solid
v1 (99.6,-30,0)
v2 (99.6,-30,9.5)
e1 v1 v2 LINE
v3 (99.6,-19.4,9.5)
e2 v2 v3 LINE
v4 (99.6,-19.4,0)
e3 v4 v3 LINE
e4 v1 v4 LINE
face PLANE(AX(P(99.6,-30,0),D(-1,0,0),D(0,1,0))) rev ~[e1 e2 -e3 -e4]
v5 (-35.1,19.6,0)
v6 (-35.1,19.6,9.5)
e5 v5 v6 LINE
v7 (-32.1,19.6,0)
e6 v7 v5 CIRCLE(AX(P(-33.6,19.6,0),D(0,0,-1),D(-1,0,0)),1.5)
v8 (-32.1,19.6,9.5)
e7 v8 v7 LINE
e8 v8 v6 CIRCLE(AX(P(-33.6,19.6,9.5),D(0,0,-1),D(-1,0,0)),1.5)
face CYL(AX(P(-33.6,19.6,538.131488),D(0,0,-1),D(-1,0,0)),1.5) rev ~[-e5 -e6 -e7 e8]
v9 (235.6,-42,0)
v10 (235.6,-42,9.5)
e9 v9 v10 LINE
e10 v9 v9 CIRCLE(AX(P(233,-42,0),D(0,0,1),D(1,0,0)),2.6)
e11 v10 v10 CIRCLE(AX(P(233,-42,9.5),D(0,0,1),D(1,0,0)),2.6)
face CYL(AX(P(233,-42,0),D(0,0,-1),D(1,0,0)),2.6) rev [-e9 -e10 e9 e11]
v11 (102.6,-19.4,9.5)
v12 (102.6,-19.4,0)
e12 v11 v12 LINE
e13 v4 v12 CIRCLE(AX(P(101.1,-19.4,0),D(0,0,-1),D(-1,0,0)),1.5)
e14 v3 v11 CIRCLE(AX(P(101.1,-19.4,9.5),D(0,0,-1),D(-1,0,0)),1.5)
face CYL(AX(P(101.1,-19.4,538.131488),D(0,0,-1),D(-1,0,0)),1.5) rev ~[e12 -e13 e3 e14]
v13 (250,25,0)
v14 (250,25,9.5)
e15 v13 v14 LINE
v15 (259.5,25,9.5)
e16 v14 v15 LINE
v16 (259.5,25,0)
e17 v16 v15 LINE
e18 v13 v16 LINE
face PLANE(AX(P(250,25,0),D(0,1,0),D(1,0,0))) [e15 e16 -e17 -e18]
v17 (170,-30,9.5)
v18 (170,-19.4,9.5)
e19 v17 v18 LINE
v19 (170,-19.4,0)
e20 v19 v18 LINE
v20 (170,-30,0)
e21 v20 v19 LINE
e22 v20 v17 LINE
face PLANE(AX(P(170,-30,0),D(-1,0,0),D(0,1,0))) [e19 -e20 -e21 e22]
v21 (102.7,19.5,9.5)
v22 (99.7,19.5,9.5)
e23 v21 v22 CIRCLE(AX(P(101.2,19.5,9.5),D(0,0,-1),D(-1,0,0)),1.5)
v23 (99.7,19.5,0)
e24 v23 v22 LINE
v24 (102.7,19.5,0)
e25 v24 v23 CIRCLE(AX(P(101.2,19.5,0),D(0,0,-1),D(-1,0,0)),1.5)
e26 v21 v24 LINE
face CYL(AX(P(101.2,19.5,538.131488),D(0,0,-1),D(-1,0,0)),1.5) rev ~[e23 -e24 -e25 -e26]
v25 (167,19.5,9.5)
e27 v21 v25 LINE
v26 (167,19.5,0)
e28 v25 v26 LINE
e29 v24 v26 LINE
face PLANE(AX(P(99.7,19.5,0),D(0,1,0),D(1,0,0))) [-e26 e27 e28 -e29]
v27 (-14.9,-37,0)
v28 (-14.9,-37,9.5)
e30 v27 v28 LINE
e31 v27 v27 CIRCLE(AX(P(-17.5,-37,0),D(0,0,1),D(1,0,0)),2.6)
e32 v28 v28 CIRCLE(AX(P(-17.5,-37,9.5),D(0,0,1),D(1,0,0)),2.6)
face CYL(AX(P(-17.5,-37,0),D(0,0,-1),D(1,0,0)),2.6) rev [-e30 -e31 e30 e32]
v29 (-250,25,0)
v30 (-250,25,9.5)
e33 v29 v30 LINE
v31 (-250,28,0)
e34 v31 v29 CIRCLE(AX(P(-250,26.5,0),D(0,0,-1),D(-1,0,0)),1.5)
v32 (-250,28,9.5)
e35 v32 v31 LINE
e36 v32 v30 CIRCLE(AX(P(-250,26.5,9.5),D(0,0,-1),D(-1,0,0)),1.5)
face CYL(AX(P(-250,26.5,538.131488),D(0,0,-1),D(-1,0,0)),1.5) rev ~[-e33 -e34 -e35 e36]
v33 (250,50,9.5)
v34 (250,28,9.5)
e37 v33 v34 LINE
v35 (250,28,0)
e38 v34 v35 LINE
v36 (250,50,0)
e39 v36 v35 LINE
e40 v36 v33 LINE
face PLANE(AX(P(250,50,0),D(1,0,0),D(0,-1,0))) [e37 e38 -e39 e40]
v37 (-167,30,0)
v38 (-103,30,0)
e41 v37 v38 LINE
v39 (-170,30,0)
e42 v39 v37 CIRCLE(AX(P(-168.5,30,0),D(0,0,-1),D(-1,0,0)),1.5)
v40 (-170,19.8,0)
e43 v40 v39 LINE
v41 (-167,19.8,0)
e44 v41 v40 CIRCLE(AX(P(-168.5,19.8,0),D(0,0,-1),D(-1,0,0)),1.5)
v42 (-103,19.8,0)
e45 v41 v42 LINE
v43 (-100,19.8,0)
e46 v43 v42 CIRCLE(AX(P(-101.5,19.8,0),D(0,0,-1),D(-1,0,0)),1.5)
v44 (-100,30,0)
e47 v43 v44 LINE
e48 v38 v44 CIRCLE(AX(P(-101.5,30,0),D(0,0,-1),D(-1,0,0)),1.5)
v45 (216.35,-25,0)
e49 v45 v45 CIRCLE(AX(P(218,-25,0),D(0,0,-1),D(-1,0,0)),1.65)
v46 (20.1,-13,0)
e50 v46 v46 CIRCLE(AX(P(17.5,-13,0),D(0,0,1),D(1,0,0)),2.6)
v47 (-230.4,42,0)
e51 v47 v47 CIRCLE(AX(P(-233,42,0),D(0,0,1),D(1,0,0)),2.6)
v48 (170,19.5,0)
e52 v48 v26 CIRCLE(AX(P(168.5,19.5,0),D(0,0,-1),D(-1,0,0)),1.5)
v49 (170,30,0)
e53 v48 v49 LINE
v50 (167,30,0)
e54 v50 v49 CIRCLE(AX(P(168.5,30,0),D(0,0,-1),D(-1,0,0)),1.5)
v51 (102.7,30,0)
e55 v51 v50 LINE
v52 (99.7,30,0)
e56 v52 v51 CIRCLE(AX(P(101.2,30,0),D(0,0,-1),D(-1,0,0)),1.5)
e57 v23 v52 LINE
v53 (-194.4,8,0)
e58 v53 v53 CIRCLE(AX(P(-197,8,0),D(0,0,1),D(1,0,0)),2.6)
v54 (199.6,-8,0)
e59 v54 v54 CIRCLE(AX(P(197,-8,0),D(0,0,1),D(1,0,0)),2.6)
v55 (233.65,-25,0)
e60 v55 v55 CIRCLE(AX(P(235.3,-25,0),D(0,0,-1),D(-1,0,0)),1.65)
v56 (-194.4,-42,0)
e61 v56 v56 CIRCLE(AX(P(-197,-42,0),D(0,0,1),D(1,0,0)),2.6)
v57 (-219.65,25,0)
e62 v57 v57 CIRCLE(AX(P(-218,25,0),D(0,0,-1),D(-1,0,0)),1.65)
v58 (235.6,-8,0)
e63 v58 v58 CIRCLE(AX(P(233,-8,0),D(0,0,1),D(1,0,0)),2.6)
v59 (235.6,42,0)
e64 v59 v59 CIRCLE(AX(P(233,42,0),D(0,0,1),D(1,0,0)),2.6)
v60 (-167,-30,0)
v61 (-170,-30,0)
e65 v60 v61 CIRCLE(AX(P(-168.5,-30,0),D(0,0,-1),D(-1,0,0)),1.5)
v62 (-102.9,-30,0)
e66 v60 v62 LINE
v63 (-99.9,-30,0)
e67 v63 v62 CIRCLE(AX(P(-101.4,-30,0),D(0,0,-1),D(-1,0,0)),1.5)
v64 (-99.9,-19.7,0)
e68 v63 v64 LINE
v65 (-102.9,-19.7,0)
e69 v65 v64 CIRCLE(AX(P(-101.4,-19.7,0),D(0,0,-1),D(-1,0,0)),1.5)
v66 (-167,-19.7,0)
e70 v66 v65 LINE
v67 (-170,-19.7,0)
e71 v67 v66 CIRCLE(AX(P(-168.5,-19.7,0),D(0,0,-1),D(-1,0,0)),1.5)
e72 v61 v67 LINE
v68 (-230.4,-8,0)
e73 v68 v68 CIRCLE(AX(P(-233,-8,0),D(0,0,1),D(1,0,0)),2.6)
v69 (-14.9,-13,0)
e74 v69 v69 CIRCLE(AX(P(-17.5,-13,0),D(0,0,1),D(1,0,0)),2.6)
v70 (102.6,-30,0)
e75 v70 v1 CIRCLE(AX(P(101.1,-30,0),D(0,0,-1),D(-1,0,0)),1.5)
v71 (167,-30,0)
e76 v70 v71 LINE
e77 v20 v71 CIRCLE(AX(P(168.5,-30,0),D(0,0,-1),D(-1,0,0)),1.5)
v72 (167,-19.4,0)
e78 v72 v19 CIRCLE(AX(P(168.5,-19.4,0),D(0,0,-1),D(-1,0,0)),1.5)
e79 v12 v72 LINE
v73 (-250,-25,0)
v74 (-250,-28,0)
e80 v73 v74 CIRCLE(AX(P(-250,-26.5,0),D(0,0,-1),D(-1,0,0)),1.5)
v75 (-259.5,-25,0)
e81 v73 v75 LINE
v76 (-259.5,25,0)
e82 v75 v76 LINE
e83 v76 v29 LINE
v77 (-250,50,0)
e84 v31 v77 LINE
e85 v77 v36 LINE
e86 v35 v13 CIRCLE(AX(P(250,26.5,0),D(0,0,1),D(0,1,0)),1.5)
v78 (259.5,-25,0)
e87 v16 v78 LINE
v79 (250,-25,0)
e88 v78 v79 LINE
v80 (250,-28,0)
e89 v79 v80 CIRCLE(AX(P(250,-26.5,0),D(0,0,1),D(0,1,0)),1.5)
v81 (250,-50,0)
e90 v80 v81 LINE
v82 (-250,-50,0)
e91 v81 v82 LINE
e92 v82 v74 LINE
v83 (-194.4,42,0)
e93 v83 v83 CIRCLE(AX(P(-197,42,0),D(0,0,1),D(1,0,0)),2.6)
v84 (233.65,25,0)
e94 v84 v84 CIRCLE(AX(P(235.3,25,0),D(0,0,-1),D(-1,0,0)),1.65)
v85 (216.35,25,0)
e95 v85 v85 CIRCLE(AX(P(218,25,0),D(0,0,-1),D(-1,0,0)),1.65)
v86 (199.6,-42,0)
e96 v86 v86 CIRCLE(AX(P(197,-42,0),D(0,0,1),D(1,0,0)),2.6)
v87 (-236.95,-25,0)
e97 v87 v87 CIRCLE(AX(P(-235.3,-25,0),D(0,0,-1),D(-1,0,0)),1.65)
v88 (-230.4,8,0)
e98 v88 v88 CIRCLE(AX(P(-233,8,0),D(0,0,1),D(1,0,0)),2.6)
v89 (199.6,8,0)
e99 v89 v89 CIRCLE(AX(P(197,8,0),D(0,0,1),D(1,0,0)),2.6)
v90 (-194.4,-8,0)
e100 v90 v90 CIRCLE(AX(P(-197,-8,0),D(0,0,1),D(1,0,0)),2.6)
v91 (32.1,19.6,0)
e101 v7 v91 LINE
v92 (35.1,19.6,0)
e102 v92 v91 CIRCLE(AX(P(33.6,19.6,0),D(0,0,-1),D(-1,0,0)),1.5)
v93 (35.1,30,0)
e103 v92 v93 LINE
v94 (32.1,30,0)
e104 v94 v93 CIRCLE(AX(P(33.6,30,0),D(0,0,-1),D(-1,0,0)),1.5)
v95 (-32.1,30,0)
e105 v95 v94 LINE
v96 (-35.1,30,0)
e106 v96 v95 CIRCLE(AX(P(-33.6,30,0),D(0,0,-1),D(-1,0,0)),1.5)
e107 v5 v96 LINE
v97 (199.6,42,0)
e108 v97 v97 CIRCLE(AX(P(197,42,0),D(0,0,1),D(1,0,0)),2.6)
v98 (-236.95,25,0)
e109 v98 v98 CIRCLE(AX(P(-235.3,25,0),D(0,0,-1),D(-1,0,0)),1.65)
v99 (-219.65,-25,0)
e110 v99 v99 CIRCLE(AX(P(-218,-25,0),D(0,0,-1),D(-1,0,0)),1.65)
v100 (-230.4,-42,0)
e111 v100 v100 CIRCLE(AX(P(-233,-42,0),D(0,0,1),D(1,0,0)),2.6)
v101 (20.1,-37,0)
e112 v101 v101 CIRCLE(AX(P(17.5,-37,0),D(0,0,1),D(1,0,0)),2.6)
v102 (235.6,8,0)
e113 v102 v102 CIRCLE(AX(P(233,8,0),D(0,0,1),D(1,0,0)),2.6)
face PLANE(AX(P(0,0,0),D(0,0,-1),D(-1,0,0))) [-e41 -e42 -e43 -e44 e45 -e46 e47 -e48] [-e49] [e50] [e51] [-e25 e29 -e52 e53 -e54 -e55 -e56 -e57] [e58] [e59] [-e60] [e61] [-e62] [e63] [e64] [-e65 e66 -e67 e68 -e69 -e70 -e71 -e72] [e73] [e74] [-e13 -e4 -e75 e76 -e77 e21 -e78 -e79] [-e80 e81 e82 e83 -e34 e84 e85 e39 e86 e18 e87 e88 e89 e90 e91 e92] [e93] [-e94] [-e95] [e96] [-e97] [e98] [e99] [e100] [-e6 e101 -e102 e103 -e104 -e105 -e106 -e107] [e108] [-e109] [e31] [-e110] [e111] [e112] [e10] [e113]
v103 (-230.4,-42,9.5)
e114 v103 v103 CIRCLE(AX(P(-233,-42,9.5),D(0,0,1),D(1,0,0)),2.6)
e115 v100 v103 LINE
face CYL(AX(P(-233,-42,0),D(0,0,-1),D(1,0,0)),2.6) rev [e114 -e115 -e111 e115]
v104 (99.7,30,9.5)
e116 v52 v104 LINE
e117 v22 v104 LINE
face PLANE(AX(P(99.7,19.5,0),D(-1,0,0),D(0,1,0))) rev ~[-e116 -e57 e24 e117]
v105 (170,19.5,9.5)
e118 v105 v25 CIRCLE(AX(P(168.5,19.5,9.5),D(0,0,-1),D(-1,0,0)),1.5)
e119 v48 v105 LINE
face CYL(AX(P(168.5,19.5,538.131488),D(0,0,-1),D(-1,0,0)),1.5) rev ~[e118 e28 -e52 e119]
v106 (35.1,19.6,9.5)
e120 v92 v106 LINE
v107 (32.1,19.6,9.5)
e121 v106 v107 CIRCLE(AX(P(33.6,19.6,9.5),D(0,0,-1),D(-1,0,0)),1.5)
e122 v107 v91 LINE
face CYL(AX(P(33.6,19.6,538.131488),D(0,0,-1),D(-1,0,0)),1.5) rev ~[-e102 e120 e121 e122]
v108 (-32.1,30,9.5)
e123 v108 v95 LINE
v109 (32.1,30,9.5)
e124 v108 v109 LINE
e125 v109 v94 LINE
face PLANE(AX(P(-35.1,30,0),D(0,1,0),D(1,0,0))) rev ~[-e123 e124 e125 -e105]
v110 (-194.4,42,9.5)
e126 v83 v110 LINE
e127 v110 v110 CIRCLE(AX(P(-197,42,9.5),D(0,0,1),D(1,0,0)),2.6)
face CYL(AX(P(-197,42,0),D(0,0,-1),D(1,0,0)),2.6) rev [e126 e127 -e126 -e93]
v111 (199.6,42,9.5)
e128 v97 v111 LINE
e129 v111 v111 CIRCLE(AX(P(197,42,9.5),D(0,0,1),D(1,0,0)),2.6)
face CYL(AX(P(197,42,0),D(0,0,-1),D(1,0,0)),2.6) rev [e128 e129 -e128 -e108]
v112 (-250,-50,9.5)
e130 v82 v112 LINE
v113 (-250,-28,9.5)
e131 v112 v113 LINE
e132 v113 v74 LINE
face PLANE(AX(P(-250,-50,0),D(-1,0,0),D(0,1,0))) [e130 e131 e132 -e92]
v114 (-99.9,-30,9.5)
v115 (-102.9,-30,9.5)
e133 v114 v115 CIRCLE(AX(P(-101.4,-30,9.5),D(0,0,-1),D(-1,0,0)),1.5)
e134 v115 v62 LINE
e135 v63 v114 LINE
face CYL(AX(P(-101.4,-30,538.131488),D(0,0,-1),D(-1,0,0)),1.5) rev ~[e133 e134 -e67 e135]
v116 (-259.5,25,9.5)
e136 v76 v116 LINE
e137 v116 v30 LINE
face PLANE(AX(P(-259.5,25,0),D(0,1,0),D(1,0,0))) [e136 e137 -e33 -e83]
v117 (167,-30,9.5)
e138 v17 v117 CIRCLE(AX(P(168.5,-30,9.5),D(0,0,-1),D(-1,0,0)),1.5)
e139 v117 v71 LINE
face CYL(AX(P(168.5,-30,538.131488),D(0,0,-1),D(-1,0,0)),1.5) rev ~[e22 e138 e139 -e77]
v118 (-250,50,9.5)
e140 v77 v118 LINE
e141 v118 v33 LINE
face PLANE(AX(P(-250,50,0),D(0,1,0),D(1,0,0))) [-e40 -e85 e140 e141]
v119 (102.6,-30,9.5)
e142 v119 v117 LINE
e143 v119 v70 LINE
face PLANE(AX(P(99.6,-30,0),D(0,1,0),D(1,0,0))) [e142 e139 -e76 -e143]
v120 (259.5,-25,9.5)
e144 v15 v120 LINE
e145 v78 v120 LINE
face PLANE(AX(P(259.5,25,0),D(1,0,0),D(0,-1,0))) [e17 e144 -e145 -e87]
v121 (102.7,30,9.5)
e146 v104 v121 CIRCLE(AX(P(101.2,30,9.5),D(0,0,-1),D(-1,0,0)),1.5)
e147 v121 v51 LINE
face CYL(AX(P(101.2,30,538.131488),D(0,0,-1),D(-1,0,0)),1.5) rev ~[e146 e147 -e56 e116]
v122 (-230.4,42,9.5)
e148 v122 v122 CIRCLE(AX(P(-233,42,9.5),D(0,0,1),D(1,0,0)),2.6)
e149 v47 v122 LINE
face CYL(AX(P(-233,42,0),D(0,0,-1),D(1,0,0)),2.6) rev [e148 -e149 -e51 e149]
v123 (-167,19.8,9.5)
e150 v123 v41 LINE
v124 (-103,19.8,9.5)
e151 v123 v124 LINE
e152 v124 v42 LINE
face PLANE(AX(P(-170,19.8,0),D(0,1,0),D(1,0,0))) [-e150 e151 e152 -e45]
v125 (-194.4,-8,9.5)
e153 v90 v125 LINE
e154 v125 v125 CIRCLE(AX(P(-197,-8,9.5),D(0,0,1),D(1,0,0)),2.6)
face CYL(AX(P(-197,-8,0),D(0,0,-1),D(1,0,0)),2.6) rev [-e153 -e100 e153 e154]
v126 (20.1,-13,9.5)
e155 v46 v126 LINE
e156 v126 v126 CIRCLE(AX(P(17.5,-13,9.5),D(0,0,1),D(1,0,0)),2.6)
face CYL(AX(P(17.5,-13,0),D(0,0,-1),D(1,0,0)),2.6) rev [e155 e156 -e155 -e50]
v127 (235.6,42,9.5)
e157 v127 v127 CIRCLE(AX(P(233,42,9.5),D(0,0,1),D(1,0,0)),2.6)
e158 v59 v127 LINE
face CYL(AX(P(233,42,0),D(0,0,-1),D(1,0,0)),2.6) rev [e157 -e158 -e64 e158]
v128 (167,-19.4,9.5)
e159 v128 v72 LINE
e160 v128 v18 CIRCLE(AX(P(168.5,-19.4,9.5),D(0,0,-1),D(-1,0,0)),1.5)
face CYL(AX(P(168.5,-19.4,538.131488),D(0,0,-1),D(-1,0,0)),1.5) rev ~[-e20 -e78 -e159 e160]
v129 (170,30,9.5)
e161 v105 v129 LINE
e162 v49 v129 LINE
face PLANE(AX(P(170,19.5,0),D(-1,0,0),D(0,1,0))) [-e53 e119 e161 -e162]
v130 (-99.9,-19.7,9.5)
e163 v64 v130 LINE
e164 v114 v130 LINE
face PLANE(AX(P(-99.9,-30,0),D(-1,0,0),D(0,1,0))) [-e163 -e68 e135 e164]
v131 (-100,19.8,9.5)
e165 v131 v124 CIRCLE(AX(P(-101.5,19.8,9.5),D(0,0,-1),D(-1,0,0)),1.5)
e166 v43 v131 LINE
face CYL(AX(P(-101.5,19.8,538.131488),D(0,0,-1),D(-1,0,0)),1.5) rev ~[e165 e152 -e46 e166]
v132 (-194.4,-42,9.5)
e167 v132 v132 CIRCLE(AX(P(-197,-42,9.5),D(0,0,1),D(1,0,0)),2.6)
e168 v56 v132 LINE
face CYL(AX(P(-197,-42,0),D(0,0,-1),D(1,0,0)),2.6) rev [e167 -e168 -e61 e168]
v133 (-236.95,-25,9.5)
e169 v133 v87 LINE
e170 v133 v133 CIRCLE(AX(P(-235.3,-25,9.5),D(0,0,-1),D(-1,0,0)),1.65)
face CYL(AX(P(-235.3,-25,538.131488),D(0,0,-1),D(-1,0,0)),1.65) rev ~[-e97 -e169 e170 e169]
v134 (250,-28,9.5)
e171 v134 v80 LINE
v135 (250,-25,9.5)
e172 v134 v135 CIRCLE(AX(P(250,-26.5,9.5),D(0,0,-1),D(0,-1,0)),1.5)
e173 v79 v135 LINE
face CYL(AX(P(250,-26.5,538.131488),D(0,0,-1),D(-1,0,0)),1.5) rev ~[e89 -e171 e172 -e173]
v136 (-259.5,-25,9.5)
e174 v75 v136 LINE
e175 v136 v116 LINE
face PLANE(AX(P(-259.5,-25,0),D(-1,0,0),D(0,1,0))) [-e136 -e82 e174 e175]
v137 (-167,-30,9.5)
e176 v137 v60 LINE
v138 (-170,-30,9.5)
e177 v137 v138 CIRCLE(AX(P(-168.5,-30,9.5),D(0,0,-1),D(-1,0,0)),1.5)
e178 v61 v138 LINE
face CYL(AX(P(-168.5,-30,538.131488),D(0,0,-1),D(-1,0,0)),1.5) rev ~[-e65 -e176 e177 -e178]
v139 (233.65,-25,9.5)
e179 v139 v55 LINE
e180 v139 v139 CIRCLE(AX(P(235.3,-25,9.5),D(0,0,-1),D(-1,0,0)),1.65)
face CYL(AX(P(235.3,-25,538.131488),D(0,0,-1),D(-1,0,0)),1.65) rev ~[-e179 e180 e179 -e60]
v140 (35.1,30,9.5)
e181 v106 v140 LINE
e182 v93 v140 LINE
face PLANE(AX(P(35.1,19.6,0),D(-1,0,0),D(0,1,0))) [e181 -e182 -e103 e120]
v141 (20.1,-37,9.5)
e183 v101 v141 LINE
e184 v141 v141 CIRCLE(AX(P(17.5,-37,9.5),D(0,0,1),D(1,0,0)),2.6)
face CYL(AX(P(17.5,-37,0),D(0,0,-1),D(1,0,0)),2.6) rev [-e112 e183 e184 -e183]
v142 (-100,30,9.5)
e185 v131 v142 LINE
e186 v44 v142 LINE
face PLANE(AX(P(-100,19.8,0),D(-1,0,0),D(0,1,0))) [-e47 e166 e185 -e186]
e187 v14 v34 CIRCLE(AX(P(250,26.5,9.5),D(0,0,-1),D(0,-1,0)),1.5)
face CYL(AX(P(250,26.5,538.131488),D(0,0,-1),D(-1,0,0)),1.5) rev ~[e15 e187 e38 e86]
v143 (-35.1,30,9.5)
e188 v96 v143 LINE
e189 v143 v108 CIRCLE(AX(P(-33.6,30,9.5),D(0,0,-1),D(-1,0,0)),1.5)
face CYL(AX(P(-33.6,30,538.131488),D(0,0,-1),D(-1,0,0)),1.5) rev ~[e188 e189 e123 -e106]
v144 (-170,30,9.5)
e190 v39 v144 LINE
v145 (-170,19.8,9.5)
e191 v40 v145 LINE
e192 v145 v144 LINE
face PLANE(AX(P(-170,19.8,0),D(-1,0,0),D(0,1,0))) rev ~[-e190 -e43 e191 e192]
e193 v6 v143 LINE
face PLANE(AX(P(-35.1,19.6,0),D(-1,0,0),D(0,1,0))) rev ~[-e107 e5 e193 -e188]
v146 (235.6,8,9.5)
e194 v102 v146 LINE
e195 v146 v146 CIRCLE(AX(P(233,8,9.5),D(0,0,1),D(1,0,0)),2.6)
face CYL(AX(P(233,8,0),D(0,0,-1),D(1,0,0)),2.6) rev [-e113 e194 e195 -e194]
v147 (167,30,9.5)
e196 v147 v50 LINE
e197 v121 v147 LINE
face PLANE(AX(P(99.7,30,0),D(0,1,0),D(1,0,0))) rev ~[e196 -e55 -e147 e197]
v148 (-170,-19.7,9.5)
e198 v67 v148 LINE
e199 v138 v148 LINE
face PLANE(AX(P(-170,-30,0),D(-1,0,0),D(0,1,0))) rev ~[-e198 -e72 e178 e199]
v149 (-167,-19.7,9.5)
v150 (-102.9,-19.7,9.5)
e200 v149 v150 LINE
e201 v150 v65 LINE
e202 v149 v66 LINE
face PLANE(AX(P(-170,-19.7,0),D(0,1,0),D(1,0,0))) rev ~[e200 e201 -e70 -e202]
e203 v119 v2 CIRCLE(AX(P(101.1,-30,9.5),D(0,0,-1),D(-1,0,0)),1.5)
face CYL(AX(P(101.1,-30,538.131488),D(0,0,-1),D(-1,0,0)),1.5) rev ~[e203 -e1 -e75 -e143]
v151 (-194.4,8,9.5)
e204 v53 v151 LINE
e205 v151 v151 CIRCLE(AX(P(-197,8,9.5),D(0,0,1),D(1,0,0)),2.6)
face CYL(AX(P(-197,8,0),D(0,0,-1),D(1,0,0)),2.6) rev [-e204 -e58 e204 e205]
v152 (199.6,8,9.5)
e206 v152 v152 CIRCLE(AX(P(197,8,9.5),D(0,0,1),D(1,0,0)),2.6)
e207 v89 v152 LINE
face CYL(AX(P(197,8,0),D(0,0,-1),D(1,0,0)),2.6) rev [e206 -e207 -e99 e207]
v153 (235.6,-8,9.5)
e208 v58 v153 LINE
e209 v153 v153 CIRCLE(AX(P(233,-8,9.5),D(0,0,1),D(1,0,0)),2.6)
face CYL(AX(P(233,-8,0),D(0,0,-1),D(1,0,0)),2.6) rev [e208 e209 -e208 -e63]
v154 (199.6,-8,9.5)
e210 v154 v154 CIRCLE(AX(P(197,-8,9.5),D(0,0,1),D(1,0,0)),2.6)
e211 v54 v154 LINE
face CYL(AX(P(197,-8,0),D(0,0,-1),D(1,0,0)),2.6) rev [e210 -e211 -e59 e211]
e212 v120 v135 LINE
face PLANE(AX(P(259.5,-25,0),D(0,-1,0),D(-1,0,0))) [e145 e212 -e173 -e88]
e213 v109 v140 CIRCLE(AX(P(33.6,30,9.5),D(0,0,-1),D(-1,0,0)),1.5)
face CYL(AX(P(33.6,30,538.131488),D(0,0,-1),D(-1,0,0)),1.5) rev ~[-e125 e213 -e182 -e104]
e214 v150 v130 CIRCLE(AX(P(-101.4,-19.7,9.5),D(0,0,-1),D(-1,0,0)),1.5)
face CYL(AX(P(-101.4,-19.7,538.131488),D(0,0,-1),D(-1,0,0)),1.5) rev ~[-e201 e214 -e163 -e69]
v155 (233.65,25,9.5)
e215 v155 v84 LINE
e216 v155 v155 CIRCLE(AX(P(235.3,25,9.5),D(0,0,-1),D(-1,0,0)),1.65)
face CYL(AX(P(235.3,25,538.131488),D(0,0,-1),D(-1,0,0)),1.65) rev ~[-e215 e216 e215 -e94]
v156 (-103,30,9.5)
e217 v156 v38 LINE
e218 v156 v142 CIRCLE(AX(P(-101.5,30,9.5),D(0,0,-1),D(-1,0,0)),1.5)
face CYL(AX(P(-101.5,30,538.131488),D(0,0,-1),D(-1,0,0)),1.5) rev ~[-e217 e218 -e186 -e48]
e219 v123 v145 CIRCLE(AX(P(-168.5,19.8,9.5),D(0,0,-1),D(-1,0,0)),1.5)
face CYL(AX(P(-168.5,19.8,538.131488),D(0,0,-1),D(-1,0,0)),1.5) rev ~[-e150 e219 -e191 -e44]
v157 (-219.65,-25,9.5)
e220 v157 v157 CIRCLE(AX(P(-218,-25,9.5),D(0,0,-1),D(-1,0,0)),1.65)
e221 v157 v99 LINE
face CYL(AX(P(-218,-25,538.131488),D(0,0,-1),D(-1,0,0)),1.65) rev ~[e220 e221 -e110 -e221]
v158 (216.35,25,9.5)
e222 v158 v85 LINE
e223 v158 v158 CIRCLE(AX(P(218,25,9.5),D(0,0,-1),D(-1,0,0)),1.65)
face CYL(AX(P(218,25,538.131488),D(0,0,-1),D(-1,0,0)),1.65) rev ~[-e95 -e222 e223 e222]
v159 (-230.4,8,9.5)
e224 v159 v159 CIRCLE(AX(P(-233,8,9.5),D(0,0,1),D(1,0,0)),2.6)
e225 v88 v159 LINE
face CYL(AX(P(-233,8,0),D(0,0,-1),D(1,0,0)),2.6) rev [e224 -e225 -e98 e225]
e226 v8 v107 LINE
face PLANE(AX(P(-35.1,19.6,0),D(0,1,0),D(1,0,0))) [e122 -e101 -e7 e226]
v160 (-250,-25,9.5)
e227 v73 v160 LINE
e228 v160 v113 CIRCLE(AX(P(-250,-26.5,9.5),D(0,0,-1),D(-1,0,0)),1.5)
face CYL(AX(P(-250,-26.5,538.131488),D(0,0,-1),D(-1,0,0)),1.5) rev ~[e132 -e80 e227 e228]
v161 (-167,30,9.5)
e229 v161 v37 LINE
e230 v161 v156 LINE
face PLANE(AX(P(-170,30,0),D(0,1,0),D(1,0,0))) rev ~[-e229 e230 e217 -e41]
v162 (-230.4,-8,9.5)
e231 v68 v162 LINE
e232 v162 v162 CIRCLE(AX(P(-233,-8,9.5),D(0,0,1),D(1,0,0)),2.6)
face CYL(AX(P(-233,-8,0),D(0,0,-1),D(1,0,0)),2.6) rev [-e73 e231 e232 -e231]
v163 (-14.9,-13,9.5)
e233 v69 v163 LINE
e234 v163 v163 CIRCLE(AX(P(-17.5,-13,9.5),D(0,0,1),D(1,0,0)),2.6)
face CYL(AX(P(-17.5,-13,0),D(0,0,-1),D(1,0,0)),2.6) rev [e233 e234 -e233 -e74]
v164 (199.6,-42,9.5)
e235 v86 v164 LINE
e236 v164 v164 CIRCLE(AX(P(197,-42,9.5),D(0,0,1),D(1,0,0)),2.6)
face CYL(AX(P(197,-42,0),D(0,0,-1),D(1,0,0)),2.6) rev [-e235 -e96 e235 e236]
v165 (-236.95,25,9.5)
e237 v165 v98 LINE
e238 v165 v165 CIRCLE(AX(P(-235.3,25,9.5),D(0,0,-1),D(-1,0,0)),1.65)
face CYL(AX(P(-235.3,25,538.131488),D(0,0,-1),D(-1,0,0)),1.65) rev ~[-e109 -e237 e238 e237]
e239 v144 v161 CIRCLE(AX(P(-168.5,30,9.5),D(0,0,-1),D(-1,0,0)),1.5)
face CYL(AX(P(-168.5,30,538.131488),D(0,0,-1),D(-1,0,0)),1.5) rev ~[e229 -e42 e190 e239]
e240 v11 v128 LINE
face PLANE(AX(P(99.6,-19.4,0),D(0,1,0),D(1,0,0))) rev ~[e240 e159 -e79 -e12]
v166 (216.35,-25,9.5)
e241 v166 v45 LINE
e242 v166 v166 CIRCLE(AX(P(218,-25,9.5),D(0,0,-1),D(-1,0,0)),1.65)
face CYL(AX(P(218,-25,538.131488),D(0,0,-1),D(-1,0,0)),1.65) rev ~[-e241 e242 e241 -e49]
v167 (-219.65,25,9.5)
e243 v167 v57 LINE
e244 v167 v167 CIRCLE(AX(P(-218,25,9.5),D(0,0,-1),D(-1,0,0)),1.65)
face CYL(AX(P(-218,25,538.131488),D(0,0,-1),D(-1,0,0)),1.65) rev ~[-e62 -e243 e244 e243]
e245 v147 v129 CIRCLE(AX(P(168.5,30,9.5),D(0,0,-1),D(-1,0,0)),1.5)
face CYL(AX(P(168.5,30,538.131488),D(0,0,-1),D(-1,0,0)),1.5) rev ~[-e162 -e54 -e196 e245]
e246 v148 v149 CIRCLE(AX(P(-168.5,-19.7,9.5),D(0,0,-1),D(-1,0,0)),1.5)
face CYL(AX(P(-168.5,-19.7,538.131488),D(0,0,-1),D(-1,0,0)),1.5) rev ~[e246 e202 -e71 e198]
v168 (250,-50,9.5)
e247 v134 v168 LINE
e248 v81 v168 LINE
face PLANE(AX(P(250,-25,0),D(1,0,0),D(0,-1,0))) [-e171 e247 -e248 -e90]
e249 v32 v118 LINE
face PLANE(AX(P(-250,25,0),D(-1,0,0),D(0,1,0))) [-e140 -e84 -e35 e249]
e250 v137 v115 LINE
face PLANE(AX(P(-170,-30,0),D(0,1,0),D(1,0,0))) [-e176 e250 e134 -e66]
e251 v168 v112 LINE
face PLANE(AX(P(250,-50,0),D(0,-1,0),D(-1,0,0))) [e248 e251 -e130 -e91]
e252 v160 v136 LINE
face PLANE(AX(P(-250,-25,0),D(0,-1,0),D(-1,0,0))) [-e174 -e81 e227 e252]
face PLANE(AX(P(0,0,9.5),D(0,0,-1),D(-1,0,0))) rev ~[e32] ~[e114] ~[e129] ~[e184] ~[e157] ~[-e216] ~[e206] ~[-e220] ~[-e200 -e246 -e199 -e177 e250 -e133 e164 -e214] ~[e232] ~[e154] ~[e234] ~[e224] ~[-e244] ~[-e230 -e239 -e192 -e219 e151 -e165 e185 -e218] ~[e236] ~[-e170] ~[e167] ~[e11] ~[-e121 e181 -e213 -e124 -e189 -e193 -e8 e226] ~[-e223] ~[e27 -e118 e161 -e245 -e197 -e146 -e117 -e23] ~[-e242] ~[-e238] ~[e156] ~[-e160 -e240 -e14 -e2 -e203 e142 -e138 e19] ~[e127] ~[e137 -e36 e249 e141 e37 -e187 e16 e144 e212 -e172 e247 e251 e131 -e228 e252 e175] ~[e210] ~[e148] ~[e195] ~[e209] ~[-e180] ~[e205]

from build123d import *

# Parameters (mm, degrees)
SKETCH1_R                  = 2.6
SKETCH1_W                  = 70
SKETCH1_H                  = 10.2
SKETCH1_W_2                = 70.1
SKETCH1_H_2                = 10.3
SKETCH1_W_3                = 70.2
SKETCH1_H_3                = 10.4
SKETCH1_W_4                = 70.3
SKETCH1_H_4                = 10.5
SKETCH1_W_5                = 70.4
SKETCH1_H_5                = 10.6
BOSS_EXTRUDE1_DEPTH        = 9.5
F_3_3_3_3_DIAMETER_HOLE1_D = 3.3
F_3_0_3_DIAMETER_HOLE1_D   = 3


with BuildPart() as part:
    # Sketch1 → Boss-Extrude1 (new body)
    with BuildSketch(Plane.XY):
        Polygon((-250, -25), (-259.5, -25), (-259.5, 25), (-250, 25), (-250, 50), (250, 50), (250, 25), (259.5, 25), (259.5, -25), (250, -25), (250, -50), (-250, -50), align=None)
        with Locations((-233, -42)):
            Circle(SKETCH1_R, mode=Mode.SUBTRACT)
        with Locations((-197, -42)):
            Circle(SKETCH1_R, mode=Mode.SUBTRACT)
        with Locations((-197, -8)):
            Circle(SKETCH1_R, mode=Mode.SUBTRACT)
        with Locations((-233, -8)):
            Circle(SKETCH1_R, mode=Mode.SUBTRACT)
        with Locations((-197, 42)):
            Circle(SKETCH1_R, mode=Mode.SUBTRACT)
        with Locations((-197, 8)):
            Circle(SKETCH1_R, mode=Mode.SUBTRACT)
        with Locations((-233, 8)):
            Circle(SKETCH1_R, mode=Mode.SUBTRACT)
        with Locations((-233, 42)):
            Circle(SKETCH1_R, mode=Mode.SUBTRACT)
        with Locations((233, 42)):
            Circle(SKETCH1_R, mode=Mode.SUBTRACT)
        with Locations((233, 8)):
            Circle(SKETCH1_R, mode=Mode.SUBTRACT)
        with Locations((197, 8)):
            Circle(SKETCH1_R, mode=Mode.SUBTRACT)
        with Locations((197, 42)):
            Circle(SKETCH1_R, mode=Mode.SUBTRACT)
        with Locations((233, -8)):
            Circle(SKETCH1_R, mode=Mode.SUBTRACT)
        with Locations((197, -8)):
            Circle(SKETCH1_R, mode=Mode.SUBTRACT)
        with Locations((197, -42)):
            Circle(SKETCH1_R, mode=Mode.SUBTRACT)
        with Locations((233, -42)):
            Circle(SKETCH1_R, mode=Mode.SUBTRACT)
        with Locations((-17.5, -37)):
            Circle(SKETCH1_R, mode=Mode.SUBTRACT)
        with Locations((17.5, -37)):
            Circle(SKETCH1_R, mode=Mode.SUBTRACT)
        with Locations((17.5, -13)):
            Circle(SKETCH1_R, mode=Mode.SUBTRACT)
        with Locations((-17.5, -13)):
            Circle(SKETCH1_R, mode=Mode.SUBTRACT)
        with Locations((-135, 24.9)):
            Rectangle(SKETCH1_W, SKETCH1_H, mode=Mode.SUBTRACT)
        with Locations((-134.95, -24.85)):
            Rectangle(SKETCH1_W_2, SKETCH1_H_2, mode=Mode.SUBTRACT)
        with Locations((0, 24.8)):
            Rectangle(SKETCH1_W_3, SKETCH1_H_3, mode=Mode.SUBTRACT)
        with Locations((134.85, 24.75)):
            Rectangle(SKETCH1_W_4, SKETCH1_H_4, mode=Mode.SUBTRACT)
        with Locations((134.8, -24.7)):
            Rectangle(SKETCH1_W_5, SKETCH1_H_5, mode=Mode.SUBTRACT)
    extrude(amount=BOSS_EXTRUDE1_DEPTH)

    # Ø3.3 (3.3) Diameter Hole1 (through all)
    with Locations(Plane.XY.offset(9.5)):
        with Locations((-235.3, 25), (-218, 25), (-218, -25), (-235.3, -25), (235.3, -25), (218, -25), (218, 25), (235.3, 25)):
            Hole(F_3_3_3_3_DIAMETER_HOLE1_D / 2)

    # Ø3.0 (3) Diameter Hole1 (through all)
    with Locations(Plane.XY.offset(9.5)):
        with Locations((-250, 26.5), (-250, -26.5), (-168.5, 30), (-101.5, 30), (-101.5, 19.8), (-168.5, 19.8), (-168.5, -19.7), (-168.5, -30), (-101.4, -19.7), (-101.4, -30), (-33.6, 30), (-33.6, 19.6), (33.6, 30), (33.6, 19.6), (168.5, 30), (168.5, 19.5), (101.2, 30), (101.2, 19.5), (101.1, -19.4), (101.1, -30), (168.5, -19.4), (168.5, -30), (250, 26.5), (250, -26.5)):
            Hole(F_3_0_3_DIAMETER_HOLE1_D / 2)


solid = part.part
